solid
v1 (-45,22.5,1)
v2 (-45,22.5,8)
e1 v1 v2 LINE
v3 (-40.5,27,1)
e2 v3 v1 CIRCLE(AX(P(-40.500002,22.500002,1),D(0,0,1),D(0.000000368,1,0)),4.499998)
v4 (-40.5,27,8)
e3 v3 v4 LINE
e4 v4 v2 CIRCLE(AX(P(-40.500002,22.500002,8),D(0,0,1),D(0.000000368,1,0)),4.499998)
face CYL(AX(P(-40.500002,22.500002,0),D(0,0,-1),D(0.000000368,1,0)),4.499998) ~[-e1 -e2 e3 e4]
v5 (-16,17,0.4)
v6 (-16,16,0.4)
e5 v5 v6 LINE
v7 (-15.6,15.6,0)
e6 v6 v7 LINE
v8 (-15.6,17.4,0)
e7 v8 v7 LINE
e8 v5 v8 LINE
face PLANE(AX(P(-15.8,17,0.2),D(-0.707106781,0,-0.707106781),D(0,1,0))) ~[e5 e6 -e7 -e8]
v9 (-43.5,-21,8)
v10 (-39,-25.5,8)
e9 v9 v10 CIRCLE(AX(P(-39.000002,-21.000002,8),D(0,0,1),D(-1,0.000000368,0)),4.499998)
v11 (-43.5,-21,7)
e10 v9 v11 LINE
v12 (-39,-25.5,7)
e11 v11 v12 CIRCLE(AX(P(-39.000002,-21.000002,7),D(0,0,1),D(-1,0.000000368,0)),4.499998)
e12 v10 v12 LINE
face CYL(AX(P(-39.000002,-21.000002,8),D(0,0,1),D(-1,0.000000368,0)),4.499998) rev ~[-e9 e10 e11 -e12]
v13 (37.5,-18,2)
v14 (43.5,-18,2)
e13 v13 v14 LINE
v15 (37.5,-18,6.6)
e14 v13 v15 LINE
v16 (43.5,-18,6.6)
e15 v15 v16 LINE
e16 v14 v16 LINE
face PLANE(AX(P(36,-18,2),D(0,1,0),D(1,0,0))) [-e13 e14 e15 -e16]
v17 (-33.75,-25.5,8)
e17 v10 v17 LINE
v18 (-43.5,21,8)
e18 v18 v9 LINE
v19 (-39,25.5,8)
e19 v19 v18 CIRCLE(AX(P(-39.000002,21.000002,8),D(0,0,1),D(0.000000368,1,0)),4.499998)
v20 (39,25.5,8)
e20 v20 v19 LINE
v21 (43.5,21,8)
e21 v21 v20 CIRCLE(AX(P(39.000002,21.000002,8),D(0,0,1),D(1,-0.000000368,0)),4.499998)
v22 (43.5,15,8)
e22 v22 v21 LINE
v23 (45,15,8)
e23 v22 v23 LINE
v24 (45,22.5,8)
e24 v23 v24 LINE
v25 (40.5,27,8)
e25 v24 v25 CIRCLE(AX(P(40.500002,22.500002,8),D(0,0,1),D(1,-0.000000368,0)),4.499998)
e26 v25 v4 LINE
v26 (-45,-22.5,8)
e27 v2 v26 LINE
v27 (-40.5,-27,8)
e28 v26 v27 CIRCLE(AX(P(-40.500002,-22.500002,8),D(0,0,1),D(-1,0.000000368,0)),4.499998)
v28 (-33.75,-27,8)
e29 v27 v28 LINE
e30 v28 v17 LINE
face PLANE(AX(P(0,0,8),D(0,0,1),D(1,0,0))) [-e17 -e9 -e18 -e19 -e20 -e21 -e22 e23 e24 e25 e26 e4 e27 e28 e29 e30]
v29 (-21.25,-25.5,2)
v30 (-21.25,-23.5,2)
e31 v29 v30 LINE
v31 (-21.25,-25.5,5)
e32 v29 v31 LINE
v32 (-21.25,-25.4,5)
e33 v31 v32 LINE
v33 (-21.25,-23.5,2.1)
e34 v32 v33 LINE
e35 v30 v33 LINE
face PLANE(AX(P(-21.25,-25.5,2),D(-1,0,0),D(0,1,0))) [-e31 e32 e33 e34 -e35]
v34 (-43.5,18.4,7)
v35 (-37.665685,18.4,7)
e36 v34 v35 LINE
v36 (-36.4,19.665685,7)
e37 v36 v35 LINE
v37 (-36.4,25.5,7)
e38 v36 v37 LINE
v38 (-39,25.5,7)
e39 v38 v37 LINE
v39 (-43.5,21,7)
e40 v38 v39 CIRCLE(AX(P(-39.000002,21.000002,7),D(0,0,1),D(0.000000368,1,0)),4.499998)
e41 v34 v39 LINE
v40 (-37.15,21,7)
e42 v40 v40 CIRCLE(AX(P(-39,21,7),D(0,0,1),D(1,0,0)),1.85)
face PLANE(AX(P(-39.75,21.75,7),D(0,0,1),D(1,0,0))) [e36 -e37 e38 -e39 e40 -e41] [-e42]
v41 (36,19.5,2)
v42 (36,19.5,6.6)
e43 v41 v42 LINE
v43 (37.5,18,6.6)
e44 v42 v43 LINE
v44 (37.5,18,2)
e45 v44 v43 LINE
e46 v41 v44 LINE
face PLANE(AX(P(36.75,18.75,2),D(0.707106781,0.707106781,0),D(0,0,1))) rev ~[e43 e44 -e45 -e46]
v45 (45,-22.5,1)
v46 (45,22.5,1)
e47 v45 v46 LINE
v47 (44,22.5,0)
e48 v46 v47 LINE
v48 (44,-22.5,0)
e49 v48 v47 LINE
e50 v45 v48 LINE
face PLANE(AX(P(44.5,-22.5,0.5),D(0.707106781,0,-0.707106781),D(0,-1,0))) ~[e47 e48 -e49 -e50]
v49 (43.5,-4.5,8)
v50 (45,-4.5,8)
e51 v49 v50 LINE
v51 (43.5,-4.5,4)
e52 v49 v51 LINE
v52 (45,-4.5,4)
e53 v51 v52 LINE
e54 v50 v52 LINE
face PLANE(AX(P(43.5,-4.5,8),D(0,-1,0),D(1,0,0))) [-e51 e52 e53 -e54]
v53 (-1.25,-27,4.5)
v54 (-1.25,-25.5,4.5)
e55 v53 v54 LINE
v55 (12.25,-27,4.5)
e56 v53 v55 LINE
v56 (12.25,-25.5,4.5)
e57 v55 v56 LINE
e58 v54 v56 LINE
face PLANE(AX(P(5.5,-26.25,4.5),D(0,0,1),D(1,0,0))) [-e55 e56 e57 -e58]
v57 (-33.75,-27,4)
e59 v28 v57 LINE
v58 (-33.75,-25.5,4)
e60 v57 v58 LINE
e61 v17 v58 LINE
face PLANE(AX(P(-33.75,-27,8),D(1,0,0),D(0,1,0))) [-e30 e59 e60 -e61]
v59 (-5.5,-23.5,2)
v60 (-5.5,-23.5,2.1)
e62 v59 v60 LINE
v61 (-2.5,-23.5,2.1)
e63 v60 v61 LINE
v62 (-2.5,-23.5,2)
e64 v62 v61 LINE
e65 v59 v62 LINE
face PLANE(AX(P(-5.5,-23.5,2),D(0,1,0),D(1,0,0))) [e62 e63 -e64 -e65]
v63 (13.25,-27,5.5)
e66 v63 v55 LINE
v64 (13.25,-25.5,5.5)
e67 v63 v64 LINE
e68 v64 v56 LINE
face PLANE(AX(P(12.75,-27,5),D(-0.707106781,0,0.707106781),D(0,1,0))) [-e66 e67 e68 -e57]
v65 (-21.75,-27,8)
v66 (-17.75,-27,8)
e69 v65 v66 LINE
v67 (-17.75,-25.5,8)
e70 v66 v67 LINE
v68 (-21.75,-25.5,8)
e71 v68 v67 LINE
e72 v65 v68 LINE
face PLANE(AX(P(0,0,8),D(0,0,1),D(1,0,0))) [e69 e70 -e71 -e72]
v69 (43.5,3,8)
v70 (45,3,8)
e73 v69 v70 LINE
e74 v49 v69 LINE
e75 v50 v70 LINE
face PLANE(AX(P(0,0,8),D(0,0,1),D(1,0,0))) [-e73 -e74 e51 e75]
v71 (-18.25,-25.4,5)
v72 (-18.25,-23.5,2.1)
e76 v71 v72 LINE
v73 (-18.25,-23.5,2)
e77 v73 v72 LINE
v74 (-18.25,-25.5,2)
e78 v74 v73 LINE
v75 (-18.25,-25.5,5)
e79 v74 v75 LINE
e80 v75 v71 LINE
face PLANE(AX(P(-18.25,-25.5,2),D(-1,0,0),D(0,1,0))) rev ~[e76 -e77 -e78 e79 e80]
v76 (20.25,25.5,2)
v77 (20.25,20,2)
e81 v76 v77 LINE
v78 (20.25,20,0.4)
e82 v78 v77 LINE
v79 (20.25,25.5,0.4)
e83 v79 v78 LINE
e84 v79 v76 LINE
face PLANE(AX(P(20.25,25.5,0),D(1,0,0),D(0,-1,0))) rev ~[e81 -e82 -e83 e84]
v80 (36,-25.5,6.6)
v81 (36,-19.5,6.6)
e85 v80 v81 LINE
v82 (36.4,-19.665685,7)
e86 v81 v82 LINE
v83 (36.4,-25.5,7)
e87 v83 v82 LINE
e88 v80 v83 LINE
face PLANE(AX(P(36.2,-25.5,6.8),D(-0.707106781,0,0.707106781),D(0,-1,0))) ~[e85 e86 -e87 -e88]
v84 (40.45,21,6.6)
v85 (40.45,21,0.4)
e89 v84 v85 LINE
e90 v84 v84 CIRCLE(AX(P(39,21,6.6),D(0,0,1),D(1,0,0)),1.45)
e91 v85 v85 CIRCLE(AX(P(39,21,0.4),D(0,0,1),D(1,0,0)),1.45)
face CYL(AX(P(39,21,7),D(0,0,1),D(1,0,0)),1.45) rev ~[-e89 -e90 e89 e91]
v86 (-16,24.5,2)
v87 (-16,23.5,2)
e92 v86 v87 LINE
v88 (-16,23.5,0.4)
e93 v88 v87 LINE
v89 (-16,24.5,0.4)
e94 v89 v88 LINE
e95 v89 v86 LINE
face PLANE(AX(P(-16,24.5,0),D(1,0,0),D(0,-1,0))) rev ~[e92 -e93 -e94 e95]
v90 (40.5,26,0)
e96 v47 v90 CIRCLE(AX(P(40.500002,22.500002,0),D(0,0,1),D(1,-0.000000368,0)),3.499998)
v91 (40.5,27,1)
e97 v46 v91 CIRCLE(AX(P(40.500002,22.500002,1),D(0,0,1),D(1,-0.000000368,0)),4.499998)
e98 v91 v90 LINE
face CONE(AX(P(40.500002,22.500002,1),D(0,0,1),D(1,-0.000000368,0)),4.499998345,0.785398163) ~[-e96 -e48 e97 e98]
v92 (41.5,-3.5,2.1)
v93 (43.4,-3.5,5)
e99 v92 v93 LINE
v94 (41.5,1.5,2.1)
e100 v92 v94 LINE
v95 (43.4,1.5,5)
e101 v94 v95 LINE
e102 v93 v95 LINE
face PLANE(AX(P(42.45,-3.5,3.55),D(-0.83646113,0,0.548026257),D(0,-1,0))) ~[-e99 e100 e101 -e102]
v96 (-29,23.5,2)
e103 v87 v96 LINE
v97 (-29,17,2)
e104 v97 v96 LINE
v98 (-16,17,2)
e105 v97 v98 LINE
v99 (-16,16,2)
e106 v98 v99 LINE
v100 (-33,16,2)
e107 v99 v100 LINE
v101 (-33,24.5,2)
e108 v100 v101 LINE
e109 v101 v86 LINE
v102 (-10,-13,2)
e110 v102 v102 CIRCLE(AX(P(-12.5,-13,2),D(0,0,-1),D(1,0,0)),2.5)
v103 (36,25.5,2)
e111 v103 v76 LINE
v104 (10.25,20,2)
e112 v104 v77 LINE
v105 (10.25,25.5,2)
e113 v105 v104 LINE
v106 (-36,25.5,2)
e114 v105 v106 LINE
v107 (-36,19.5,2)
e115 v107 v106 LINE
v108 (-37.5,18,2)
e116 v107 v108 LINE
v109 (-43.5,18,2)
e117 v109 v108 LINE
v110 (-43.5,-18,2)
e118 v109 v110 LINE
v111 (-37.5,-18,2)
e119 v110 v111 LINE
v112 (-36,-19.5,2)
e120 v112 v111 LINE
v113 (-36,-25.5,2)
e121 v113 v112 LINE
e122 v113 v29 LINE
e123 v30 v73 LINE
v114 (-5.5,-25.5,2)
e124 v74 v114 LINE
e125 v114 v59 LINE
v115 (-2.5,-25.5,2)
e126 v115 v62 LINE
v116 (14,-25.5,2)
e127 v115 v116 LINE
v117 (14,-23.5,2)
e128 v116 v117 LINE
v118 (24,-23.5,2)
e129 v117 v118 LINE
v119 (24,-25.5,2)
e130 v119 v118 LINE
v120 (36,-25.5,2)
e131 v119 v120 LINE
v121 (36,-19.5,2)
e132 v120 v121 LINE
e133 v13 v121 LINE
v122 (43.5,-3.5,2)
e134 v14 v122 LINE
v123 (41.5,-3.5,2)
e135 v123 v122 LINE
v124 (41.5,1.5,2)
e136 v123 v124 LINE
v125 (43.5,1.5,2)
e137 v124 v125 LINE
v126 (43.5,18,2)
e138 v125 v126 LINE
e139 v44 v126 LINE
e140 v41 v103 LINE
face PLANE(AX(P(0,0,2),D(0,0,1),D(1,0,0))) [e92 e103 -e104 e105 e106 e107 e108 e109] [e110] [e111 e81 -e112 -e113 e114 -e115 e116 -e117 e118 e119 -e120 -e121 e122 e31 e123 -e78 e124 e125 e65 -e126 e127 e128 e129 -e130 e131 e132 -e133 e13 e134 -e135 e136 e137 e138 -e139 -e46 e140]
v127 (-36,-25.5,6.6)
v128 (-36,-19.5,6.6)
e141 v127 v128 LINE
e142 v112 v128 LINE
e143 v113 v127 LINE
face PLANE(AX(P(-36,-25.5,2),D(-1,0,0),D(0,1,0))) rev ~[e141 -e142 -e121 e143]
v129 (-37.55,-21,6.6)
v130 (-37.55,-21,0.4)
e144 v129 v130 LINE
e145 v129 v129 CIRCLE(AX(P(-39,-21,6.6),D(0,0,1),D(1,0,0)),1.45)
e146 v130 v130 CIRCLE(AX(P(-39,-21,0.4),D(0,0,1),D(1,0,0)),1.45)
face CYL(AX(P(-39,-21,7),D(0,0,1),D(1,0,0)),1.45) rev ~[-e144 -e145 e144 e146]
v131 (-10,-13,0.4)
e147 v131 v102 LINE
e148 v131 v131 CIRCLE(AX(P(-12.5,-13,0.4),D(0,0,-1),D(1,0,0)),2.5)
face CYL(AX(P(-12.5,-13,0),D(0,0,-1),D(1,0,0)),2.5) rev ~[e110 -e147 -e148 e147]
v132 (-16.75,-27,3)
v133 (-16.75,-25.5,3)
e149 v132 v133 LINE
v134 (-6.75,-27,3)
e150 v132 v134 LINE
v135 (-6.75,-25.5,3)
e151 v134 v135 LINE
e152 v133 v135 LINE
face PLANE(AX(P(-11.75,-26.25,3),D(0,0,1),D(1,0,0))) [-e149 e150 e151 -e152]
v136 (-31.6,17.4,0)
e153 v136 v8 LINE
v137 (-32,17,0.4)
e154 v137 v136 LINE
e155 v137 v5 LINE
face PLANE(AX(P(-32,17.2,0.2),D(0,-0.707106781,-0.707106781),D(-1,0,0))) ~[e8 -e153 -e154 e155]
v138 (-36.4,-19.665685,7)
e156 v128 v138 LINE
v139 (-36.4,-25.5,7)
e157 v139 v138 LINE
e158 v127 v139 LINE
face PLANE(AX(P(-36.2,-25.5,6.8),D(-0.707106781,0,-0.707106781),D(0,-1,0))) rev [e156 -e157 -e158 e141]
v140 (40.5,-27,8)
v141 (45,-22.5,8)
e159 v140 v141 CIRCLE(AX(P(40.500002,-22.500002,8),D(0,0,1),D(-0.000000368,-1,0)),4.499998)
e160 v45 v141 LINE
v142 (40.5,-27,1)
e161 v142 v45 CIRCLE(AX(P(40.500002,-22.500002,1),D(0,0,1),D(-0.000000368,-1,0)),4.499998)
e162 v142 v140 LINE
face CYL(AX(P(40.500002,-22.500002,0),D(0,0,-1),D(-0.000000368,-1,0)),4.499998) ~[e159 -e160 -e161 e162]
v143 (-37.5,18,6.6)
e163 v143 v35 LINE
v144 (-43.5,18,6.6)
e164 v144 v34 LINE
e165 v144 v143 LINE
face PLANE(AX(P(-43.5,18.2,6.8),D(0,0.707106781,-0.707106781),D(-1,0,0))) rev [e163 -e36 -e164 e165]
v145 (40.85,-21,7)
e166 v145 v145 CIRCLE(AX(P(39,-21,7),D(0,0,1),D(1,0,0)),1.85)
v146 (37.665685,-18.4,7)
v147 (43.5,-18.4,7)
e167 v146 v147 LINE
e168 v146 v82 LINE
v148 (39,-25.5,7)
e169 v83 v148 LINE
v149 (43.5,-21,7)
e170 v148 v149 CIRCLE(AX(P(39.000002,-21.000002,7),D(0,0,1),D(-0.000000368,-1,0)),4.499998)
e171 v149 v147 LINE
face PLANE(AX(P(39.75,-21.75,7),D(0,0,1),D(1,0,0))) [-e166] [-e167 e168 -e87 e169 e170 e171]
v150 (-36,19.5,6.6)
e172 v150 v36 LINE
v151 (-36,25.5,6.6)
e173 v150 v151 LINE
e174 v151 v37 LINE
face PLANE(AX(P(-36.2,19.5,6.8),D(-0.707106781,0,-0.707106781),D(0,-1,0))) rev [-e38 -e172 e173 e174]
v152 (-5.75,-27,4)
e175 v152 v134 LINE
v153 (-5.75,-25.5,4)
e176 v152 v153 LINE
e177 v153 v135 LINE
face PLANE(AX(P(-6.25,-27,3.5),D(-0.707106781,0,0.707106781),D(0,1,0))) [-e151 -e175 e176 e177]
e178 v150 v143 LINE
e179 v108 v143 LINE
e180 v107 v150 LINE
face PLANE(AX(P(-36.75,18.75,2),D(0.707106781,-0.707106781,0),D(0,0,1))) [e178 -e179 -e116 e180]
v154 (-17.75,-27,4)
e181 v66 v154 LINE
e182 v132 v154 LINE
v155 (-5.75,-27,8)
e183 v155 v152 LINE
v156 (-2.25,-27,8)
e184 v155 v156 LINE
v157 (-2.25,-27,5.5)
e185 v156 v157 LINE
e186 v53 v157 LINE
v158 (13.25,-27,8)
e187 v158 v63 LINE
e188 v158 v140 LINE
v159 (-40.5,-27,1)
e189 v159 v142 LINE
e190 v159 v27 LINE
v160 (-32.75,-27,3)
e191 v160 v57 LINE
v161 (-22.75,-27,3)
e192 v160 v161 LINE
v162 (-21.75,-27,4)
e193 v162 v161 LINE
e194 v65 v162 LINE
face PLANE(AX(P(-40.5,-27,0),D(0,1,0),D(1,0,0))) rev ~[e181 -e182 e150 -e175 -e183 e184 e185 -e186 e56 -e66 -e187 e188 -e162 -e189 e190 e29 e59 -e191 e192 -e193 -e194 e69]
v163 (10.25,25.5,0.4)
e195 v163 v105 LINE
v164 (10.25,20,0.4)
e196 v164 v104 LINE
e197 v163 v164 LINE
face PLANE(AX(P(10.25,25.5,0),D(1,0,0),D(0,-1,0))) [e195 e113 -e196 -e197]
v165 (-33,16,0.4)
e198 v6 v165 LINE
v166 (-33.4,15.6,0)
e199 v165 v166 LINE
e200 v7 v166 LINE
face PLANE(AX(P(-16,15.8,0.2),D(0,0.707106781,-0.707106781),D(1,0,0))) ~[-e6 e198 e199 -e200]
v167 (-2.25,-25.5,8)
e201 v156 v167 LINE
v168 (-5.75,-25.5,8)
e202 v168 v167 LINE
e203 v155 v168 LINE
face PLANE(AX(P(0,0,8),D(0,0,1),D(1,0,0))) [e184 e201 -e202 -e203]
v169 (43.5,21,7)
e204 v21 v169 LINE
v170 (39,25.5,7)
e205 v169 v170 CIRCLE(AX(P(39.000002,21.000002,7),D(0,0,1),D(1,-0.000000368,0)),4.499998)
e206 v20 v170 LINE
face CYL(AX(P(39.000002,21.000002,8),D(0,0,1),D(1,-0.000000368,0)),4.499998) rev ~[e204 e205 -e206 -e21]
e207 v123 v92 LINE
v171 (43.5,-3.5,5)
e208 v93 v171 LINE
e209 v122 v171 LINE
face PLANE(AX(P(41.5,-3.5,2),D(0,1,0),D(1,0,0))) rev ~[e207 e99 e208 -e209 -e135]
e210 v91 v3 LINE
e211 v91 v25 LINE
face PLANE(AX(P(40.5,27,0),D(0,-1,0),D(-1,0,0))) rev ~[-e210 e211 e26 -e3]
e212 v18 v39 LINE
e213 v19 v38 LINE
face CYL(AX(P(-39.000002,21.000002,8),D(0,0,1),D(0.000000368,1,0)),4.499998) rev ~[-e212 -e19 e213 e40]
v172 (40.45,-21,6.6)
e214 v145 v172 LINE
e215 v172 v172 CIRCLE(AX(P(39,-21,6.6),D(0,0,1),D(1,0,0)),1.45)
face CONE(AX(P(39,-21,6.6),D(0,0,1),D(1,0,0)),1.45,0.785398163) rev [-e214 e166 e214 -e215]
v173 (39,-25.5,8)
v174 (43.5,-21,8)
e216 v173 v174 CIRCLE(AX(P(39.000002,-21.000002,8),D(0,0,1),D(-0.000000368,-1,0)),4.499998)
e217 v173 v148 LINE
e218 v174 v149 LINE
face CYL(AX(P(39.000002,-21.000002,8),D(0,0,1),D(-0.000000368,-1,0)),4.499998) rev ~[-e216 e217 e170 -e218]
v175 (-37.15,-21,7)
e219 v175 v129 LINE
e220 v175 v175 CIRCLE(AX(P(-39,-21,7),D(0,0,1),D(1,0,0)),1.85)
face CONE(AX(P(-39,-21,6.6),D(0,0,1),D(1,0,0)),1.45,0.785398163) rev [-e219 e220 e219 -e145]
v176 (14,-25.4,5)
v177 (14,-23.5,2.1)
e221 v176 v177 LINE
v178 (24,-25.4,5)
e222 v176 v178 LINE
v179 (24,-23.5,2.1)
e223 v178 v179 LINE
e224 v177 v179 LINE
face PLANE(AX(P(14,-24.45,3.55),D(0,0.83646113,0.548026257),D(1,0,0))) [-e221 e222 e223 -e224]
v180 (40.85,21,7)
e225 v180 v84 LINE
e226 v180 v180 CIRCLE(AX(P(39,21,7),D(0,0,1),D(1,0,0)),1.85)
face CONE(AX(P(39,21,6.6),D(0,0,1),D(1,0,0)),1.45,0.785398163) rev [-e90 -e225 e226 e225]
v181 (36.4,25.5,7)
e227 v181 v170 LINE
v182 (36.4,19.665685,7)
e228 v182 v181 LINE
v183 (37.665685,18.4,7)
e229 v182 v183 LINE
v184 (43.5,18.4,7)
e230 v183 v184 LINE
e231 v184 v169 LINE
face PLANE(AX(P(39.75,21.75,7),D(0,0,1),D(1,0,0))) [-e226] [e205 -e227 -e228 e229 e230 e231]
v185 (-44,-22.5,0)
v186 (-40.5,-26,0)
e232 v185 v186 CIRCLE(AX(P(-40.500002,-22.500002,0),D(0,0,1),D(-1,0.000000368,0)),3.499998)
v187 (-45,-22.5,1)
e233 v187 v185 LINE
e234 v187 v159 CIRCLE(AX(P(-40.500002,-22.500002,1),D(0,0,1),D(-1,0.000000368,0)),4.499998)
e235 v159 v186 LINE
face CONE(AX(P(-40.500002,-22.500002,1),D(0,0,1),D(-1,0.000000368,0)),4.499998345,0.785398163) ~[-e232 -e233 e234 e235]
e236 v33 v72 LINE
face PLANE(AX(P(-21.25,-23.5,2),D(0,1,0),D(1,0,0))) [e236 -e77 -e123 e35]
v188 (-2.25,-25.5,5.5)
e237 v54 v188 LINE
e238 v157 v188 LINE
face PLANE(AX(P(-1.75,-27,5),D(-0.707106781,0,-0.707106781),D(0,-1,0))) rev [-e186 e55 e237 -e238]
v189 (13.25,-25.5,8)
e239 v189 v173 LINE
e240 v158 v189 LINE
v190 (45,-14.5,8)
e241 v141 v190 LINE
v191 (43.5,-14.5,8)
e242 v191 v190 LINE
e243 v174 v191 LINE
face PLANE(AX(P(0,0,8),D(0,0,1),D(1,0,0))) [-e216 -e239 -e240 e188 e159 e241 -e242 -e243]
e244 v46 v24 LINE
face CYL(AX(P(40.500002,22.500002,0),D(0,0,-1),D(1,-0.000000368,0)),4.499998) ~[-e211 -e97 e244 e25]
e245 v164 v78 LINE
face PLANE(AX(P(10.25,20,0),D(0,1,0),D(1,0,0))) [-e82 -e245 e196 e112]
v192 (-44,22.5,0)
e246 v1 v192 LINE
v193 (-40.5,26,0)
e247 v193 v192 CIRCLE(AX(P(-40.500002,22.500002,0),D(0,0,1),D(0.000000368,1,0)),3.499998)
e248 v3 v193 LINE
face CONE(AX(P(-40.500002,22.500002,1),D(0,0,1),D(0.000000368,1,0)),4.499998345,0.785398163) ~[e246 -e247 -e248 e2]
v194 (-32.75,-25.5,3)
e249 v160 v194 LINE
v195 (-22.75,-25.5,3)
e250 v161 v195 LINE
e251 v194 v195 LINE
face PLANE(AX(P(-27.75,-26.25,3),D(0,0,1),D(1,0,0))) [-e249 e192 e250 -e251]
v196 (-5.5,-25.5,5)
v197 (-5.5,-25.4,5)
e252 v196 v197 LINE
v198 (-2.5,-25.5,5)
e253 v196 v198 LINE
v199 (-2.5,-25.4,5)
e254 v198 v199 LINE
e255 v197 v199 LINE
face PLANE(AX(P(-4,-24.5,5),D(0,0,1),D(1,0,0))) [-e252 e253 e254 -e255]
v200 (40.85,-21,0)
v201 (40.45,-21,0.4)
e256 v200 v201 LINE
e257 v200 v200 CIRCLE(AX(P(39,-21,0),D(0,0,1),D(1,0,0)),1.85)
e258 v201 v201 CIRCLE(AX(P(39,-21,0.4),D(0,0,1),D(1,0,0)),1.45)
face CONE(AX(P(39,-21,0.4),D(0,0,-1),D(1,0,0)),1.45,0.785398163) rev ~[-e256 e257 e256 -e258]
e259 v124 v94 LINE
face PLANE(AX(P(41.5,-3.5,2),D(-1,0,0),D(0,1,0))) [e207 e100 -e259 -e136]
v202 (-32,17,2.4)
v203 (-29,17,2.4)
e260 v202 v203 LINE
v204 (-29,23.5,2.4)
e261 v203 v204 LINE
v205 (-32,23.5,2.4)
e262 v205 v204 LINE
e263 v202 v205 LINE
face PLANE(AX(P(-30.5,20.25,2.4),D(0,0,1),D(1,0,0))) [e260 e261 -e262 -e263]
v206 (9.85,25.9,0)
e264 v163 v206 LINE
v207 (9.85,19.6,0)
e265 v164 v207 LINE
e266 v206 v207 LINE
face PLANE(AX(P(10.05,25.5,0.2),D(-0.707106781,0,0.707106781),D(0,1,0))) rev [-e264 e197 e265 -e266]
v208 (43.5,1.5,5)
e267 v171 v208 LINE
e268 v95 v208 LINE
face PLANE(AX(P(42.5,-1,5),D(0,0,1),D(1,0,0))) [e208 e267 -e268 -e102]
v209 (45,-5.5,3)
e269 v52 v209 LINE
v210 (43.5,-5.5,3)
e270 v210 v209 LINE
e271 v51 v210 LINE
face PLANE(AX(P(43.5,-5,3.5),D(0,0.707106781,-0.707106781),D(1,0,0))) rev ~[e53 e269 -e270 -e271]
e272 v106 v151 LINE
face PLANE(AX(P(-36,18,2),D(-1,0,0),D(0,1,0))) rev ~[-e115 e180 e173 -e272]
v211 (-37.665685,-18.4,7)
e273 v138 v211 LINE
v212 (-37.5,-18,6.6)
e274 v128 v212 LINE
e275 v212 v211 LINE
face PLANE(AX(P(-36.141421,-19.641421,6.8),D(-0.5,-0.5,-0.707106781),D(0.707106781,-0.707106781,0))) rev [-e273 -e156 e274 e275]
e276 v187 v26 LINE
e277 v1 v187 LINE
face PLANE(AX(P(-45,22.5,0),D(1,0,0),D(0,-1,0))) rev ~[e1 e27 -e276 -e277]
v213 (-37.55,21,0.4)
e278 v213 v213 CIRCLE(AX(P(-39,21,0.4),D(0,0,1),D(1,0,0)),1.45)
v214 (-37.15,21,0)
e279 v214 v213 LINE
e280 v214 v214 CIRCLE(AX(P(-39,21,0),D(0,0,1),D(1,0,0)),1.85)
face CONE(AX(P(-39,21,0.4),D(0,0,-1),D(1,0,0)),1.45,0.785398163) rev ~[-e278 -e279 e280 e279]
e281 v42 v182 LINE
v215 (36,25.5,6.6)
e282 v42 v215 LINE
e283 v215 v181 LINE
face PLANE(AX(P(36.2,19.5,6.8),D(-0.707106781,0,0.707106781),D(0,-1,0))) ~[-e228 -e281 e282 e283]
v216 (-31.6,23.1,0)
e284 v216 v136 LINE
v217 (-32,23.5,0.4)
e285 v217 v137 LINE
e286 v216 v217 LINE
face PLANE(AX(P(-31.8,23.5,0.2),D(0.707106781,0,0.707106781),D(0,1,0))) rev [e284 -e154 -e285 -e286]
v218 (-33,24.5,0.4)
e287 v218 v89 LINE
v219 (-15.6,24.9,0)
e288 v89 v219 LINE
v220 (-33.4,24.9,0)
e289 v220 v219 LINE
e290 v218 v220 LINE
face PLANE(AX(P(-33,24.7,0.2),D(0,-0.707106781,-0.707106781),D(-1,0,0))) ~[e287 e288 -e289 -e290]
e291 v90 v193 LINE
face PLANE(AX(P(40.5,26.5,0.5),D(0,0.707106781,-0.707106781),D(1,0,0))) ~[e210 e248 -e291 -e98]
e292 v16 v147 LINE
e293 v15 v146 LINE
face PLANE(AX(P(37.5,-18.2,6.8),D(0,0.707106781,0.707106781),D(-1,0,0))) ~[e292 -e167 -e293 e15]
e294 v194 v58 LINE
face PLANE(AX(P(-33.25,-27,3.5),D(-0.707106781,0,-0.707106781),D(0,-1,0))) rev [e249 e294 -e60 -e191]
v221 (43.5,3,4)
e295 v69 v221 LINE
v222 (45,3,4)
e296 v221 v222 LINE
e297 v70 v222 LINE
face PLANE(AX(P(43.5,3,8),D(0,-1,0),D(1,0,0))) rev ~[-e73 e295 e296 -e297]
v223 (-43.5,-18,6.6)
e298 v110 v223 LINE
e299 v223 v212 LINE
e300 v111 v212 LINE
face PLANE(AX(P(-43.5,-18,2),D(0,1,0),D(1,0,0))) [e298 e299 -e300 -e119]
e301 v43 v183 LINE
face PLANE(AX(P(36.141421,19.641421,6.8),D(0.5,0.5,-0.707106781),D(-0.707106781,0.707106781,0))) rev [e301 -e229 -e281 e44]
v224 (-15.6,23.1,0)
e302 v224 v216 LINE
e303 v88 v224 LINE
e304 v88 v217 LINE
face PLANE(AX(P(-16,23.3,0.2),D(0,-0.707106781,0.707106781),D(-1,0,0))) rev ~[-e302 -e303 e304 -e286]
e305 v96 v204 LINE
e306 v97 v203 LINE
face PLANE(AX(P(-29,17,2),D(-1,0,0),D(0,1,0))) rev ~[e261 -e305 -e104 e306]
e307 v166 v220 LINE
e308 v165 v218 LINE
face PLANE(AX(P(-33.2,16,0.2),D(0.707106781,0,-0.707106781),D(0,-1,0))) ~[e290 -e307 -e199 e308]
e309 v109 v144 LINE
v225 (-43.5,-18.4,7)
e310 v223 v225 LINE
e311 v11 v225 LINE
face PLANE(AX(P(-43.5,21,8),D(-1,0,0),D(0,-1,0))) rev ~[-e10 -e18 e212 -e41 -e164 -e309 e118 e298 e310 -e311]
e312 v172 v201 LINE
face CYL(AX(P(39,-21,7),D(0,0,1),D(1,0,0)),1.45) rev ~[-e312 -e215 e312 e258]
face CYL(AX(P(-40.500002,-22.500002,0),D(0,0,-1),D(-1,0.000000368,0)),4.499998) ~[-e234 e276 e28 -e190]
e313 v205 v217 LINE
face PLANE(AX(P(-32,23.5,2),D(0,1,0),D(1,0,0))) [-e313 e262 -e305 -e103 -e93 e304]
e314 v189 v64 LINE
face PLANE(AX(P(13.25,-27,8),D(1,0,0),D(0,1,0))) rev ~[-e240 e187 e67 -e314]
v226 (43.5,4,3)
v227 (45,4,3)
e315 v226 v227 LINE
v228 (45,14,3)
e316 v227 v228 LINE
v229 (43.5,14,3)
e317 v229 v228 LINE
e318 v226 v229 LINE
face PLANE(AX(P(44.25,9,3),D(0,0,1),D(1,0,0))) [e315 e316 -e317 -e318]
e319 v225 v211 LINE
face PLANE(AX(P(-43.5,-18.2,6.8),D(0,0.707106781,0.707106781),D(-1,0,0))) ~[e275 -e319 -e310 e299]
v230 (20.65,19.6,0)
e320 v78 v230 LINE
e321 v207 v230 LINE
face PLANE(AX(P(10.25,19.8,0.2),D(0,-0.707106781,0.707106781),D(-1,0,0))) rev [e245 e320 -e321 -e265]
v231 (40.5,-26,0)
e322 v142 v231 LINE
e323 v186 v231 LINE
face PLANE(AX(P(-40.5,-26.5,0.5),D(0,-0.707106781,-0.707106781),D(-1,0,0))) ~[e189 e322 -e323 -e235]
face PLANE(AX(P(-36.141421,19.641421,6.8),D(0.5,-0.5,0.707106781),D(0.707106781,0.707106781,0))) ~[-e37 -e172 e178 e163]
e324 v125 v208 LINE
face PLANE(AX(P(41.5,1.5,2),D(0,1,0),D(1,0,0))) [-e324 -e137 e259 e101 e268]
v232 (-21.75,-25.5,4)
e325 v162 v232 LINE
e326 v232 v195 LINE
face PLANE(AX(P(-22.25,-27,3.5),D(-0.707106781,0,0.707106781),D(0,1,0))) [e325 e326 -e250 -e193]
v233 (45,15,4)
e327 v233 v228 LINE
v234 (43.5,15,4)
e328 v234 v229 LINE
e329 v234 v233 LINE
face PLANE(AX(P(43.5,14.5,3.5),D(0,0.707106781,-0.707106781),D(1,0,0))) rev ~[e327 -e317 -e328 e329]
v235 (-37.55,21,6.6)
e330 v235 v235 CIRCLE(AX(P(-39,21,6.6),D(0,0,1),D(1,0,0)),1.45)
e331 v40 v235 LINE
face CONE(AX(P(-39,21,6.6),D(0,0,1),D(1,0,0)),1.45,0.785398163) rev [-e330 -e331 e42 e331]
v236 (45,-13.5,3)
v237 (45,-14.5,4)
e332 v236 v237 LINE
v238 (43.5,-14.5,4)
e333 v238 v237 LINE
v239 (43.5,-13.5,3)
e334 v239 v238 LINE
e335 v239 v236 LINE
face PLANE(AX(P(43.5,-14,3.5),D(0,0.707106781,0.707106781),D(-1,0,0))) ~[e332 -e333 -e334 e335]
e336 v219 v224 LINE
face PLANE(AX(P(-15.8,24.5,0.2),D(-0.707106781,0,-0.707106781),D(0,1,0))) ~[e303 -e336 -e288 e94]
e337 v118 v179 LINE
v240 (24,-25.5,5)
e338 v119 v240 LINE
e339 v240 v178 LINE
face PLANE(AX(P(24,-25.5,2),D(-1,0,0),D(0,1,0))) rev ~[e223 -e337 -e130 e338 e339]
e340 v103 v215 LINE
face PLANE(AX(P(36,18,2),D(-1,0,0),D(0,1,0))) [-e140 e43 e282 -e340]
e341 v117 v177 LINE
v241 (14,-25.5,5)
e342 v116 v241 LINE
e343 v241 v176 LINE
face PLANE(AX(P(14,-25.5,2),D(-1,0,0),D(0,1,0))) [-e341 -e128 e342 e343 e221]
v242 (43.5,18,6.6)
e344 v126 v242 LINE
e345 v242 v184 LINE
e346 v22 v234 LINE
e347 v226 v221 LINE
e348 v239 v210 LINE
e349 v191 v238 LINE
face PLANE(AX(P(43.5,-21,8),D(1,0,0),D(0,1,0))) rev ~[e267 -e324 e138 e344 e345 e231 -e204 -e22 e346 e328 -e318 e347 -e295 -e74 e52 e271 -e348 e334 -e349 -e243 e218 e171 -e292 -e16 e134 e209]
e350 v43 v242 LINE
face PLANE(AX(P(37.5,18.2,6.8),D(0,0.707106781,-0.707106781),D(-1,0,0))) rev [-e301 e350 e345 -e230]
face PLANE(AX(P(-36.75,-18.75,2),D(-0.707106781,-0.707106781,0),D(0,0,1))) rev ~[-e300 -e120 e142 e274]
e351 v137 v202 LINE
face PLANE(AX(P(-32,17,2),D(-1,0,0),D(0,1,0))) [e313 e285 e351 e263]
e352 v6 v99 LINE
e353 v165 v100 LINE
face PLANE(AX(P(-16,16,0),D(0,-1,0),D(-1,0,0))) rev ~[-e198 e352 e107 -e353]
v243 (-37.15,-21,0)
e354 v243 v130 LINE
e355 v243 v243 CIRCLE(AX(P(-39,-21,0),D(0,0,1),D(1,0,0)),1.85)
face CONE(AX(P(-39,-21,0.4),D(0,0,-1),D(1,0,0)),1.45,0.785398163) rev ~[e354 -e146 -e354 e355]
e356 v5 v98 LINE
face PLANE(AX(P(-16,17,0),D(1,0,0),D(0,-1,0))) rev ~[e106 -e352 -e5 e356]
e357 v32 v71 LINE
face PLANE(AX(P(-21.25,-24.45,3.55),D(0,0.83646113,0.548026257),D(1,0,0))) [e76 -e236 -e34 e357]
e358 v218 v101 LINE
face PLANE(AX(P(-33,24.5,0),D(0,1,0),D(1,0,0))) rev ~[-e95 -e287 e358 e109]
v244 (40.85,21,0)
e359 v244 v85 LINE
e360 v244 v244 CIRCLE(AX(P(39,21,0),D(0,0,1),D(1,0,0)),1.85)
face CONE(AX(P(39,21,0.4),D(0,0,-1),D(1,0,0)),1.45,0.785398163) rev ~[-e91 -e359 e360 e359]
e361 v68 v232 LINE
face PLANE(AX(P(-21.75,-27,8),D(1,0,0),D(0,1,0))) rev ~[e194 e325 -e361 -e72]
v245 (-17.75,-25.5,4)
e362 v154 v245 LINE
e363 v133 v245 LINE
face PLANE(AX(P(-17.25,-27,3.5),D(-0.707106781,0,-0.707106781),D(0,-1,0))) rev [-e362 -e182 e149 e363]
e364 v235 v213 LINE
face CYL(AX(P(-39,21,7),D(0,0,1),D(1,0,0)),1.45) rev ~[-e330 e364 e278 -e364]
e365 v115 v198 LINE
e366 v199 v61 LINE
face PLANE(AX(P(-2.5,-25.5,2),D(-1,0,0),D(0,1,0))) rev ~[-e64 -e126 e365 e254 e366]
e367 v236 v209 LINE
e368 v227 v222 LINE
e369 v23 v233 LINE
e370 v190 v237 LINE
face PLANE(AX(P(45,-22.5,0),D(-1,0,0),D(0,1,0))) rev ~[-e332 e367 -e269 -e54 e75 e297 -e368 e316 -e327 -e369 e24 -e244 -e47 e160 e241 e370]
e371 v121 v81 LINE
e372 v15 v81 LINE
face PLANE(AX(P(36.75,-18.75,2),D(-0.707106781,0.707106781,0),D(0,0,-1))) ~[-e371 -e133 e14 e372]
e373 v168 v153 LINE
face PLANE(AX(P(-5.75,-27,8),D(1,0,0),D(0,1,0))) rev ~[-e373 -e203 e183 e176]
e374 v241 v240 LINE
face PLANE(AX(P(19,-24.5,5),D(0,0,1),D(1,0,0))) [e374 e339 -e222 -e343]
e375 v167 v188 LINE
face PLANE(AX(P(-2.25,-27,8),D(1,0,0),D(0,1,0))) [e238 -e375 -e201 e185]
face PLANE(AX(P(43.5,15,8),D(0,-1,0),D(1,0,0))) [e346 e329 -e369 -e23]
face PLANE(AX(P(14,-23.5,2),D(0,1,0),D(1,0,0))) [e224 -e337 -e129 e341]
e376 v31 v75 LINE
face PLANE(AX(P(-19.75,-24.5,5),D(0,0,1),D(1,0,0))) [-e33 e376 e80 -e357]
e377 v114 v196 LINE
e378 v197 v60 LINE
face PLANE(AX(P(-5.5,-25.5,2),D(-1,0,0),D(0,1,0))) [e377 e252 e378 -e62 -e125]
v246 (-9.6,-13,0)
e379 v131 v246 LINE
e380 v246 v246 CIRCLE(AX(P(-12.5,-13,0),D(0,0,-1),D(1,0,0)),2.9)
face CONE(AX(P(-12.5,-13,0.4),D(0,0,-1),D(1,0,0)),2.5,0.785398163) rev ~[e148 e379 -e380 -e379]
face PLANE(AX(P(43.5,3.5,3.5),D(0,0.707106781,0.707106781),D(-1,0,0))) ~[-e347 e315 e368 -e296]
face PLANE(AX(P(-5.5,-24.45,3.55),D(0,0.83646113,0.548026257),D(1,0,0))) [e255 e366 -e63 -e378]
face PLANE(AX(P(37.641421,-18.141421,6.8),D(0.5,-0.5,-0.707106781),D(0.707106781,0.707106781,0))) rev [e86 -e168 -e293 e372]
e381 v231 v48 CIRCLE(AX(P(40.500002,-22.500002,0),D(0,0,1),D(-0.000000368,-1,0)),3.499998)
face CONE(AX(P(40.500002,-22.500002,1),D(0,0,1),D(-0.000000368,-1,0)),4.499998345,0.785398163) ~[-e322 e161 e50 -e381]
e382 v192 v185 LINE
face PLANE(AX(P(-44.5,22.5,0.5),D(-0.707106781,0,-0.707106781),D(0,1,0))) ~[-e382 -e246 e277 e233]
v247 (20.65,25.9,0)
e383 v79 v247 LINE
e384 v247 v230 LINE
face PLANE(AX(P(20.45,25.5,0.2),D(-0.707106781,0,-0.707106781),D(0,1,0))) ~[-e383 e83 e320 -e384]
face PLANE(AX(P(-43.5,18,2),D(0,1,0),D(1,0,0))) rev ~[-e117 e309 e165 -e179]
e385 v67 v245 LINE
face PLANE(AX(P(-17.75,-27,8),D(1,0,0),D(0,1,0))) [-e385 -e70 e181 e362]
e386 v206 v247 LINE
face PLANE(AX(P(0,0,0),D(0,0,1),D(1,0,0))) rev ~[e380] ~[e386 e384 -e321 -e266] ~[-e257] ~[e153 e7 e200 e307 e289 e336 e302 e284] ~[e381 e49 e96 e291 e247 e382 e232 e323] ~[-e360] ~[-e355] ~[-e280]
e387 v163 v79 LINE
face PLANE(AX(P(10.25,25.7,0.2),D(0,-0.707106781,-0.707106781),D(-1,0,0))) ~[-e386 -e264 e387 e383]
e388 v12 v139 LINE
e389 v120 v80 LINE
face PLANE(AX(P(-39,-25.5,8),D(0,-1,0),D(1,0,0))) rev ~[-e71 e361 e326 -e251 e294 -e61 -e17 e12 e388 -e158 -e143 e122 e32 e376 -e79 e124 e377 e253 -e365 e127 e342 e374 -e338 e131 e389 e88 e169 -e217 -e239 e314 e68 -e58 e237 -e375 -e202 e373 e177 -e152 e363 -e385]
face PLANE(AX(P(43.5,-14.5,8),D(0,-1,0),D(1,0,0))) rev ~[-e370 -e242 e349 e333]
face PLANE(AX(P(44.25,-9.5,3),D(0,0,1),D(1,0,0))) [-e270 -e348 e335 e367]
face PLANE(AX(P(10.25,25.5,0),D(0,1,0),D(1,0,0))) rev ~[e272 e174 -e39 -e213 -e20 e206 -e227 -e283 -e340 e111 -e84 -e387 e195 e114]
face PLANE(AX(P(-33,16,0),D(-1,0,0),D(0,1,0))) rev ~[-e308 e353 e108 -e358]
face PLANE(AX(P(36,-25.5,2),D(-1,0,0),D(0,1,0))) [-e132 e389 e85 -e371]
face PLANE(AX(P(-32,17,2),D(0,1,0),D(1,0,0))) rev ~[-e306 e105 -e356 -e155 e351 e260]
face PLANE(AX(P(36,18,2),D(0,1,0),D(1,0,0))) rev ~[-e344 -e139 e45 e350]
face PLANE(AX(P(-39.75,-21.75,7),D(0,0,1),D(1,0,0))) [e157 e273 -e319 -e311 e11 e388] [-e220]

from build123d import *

# Parameters (mm, degrees)
PAD_DEPTH          = 8
POCKET_DEPTH       = 6
SKETCH002_R        = 2.5
SKETCH002_W        = 10
SKETCH002_H        = 5.5
POCKET001_DEPTH    = 2
SKETCH012_W        = 3
SKETCH012_H        = 6.5
PAD004_DEPTH       = 0.4
SKETCH003_W        = 12
SKETCH003_H        = 1.5
SKETCH003_W_2      = 1.5
SKETCH003_H_2      = 10
SKETCH003_H_3      = 12
POCKET002_DEPTH    = 5
CHAMFER_SIZE       = 1
SKETCH013_W        = 15.5
SKETCH013_H        = 1.5
POCKET003_DEPTH    = 3.5
CHAMFER002_SIZE    = 1
SKETCH014_W        = 10
SKETCH014_H        = 2
SKETCH014_W_2      = 3
SKETCH014_W_3      = 2
SKETCH014_H_2      = 5
PAD005_DEPTH       = 3
SKETCH015_W        = 7.5
SKETCH015_H        = 7.5
PAD006_DEPTH       = 5
SKETCH016_R        = 1.45
POCKET004_DEPTH    = 7
CHAMFER003_SIZE    = 1.5
CHAMFER004_1_SIZE2 = 2.9
CHAMFER004_1_SIZE  = 1.9
CHAMFER004_2_SIZE2 = 2.9
CHAMFER004_2_SIZE  = 1.9
CHAMFER004_3_SIZE2 = 2.9
CHAMFER004_3_SIZE  = 1.9
CHAMFER005_SIZE2   = 1.9
CHAMFER005_SIZE    = 2.9
CHAMFER007_SIZE    = 0.4
CHAMFER008_SIZE    = 1


with BuildPart() as part:
    # Sketch → Pad (new body)
    with BuildSketch(Plane.XY):
        with BuildLine():
            Line((-40.5, -27), (40.5, -27))
            ThreePointArc((40.5, -27), (43.681981, -25.681981), (45, -22.5))
            Line((45, -22.5), (45, 22.5))
            ThreePointArc((45, 22.5), (43.681981, 25.681981), (40.5, 27))
            Line((40.5, 27), (-40.5, 27))
            ThreePointArc((-40.5, 27), (-43.681981, 25.681981), (-45, 22.5))
            Line((-45, 22.5), (-45, -22.5))
            ThreePointArc((-45, -22.5), (-43.681981, -25.681981), (-40.5, -27))
        make_face()
    extrude(amount=PAD_DEPTH)

    # Sketch001 (on Face10 of Pad) → Pocket (cut)
    with BuildSketch(Plane.XY.offset(8)):
        with BuildLine():
            Line((-39, -25.5), (39, -25.5))
            ThreePointArc((39, -25.5), (42.181981, -24.181981), (43.5, -21))
            Line((43.5, -21), (43.5, 21))
            ThreePointArc((43.5, 21), (42.181981, 24.181981), (39, 25.5))
            Line((39, 25.5), (-39, 25.5))
            ThreePointArc((-39, 25.5), (-42.181981, 24.181981), (-43.5, 21))
            Line((-43.5, 21), (-43.5, -21))
            ThreePointArc((-43.5, -21), (-42.181981, -24.181981), (-39, -25.5))
        make_face()
    extrude(amount=-POCKET_DEPTH, mode=Mode.SUBTRACT)

    # Sketch002 (on Face4 of Pocket) → Pocket001 (cut)
    with BuildSketch(Plane(origin=(0, 0, 0), x_dir=(1, 0, 0), z_dir=(0, 0, -1))):
        with Locations((-12.5, 13)):
            Circle(SKETCH002_R)
        Polygon((-16, -23.5), (-32, -23.5), (-32, -17), (-16, -17), (-16, -16), (-33, -16), (-33, -24.5), (-16, -24.5), align=None)
        with Locations((15.25, -22.75)):
            Rectangle(SKETCH002_W, SKETCH002_H)
    extrude(amount=-POCKET001_DEPTH, mode=Mode.SUBTRACT)

    # Sketch012 (on Face30 of Pocket001) → Pad004 (join)
    with BuildSketch(Plane.XY.offset(2)):
        with Locations((-30.5, 20.25)):
            Rectangle(SKETCH012_W, SKETCH012_H)
    extrude(amount=PAD004_DEPTH)

    # Sketch003 (on Face5 of Pocket001) → Pocket002 (cut)
    with BuildSketch(Plane.XY.offset(8)):
        with Locations((-11.75, -26.25)):
            Rectangle(SKETCH003_W, SKETCH003_H)
        with Locations((44.25, -9.5)):
            Rectangle(SKETCH003_W_2, SKETCH003_H_2)
        with Locations((-27.75, -26.25)):
            Rectangle(SKETCH003_W, SKETCH003_H)
        with Locations((44.25, 9)):
            Rectangle(SKETCH003_W_2, SKETCH003_H_3)
    extrude(amount=-POCKET002_DEPTH, mode=Mode.SUBTRACT)

    # Chamfer
    chamfer_edges = [part.edges().sort_by_distance(p)[0] for p in [
        (44.25, -4.5, 3),
        (-17.75, -26.25, 3),
        (-5.75, -26.25, 3),
        (44.25, -14.5, 3),
        (-33.75, -26.25, 3),
        (44.25, 15, 3),
        (44.25, 3, 3),
        (-21.75, -26.25, 3),
    ]]
    chamfer(chamfer_edges, length=CHAMFER_SIZE)

    # Sketch013 (on Face4 of Chamfer) → Pocket003 (cut)
    with BuildSketch(Plane.XY.offset(8)):
        with Locations((5.5, -26.25)):
            Rectangle(SKETCH013_W, SKETCH013_H)
    extrude(amount=-POCKET003_DEPTH, mode=Mode.SUBTRACT)

    # Chamfer002
    chamfer002_edges = [part.edges().sort_by_distance(p)[0] for p in [
        (-2.25, -26.25, 4.5),
        (13.25, -26.25, 4.5),
    ]]
    chamfer(chamfer002_edges, length=CHAMFER002_SIZE)

    # Sketch014 (on Face51 of Chamfer002) → Pad005 (join)
    with BuildSketch(Plane.XY.offset(2)):
        with Locations((19, -24.5)):
            Rectangle(SKETCH014_W, SKETCH014_H)
        with Locations((-4, -24.5)):
            Rectangle(SKETCH014_W_2, SKETCH014_H)
        with Locations((-19.75, -24.5)):
            Rectangle(SKETCH014_W_2, SKETCH014_H)
        with Locations((42.5, -1)):
            Rectangle(SKETCH014_W_3, SKETCH014_H_2)
    extrude(amount=PAD005_DEPTH)

    # Sketch015 (on Face51 of Pad005) → Pad006 (join)
    with BuildSketch(Plane.XY.offset(2)):
        with Locations((39.75, 21.75)):
            Rectangle(SKETCH015_W, SKETCH015_H)
        with Locations((-39.75, -21.75)):
            Rectangle(SKETCH015_W, SKETCH015_H)
        with Locations((-39.75, 21.75)):
            Rectangle(SKETCH015_W, SKETCH015_H)
        with Locations((39.75, -21.75)):
            Rectangle(SKETCH015_W, SKETCH015_H)
    extrude(amount=PAD006_DEPTH)

    # Sketch016 (on Face83 of Pad006) → Pocket004 (cut)
    with BuildSketch(Plane.XY.offset(7)):
        with Locations((-39, 21)):
            Circle(SKETCH016_R)
        with Locations((39, 21)):
            Circle(SKETCH016_R)
        with Locations((39, -21)):
            Circle(SKETCH016_R)
        with Locations((-39, -21)):
            Circle(SKETCH016_R)
    extrude(amount=-POCKET004_DEPTH, mode=Mode.SUBTRACT)

    # Chamfer003
    chamfer003_edges = [part.edges().sort_by_distance(p)[0] for p in [
        (-36, 18, 4.5),
        (36, 18, 4.5),
        (36, -18, 4.5),
        (-36, -18, 4.5),
    ]]
    chamfer(chamfer003_edges, length=CHAMFER003_SIZE)

    # Chamfer004 1
    chamfer004_1_edges = [part.edges().sort_by_distance(p)[0] for p in [
        (19, -23.5, 5),
    ]]
    chamfer004_1_side = part.faces().sort_by_distance((19, -24.5, 5))[0]
    chamfer(chamfer004_1_edges, length=CHAMFER004_1_SIZE, length2=CHAMFER004_1_SIZE2, reference=chamfer004_1_side)

    # Chamfer004 2
    chamfer004_2_edges = [part.edges().sort_by_distance(p)[0] for p in [
        (-4, -23.5, 5),
    ]]
    chamfer004_2_side = part.faces().sort_by_distance((-4, -24.5, 5))[0]
    chamfer(chamfer004_2_edges, length=CHAMFER004_2_SIZE, length2=CHAMFER004_2_SIZE2, reference=chamfer004_2_side)

    # Chamfer004 3
    chamfer004_3_edges = [part.edges().sort_by_distance(p)[0] for p in [
        (-19.75, -23.5, 5),
    ]]
    chamfer004_3_side = part.faces().sort_by_distance((-19.75, -24.5, 5))[0]
    chamfer(chamfer004_3_edges, length=CHAMFER004_3_SIZE, length2=CHAMFER004_3_SIZE2, reference=chamfer004_3_side)

    # Chamfer005
    chamfer005_edges = [part.edges().sort_by_distance(p)[0] for p in [
        (41.5, -1, 5),
    ]]
    chamfer005_side = part.faces().sort_by_distance((41.5, -1, 3.5))[0]
    chamfer(chamfer005_edges, length=CHAMFER005_SIZE, length2=CHAMFER005_SIZE2, reference=chamfer005_side)

    # Chamfer007
    chamfer007_edges = [part.edges().sort_by_distance(p)[0] for p in [
        (-40.45, 21, 7),
        (37.55, -21, 7),
        (-40.45, -21, 7),
        (37.55, 21, 7),
        (-36, -22.5, 7),
        (-36.75, -18.75, 7),
        (-40.5, -18, 7),
        (-40.5, 18, 7),
        (-36.75, 18.75, 7),
        (-36, 22.5, 7),
        (36, -22.5, 7),
        (36.75, -18.75, 7),
        (40.5, -18, 7),
        (40.5, 18, 7),
        (36.75, 18.75, 7),
        (36, 22.5, 7),
        (37.55, -21, 0),
        (37.55, 21, 0),
        (15.25, 20, 0),
        (20.25, 22.75, 0),
        (15.25, 25.5, 0),
        (10.25, 22.75, 0),
        (-24, 17, 0),
        (-32, 20.25, 0),
        (-24, 23.5, 0),
        (-16, 24, 0),
        (-24.5, 24.5, 0),
        (-33, 20.25, 0),
        (-24.5, 16, 0),
        (-16, 16.5, 0),
        (-40.45, 21, 0),
        (-40.45, -21, 0),
        (-15, -13, 0),
    ]]
    chamfer(chamfer007_edges, length=CHAMFER007_SIZE)

    # Chamfer008
    chamfer008_edges = [part.edges().sort_by_distance(p)[0] for p in [
        (0, -27, 0),
    ]]
    chamfer(chamfer008_edges, length=CHAMFER008_SIZE)


solid = part.part
